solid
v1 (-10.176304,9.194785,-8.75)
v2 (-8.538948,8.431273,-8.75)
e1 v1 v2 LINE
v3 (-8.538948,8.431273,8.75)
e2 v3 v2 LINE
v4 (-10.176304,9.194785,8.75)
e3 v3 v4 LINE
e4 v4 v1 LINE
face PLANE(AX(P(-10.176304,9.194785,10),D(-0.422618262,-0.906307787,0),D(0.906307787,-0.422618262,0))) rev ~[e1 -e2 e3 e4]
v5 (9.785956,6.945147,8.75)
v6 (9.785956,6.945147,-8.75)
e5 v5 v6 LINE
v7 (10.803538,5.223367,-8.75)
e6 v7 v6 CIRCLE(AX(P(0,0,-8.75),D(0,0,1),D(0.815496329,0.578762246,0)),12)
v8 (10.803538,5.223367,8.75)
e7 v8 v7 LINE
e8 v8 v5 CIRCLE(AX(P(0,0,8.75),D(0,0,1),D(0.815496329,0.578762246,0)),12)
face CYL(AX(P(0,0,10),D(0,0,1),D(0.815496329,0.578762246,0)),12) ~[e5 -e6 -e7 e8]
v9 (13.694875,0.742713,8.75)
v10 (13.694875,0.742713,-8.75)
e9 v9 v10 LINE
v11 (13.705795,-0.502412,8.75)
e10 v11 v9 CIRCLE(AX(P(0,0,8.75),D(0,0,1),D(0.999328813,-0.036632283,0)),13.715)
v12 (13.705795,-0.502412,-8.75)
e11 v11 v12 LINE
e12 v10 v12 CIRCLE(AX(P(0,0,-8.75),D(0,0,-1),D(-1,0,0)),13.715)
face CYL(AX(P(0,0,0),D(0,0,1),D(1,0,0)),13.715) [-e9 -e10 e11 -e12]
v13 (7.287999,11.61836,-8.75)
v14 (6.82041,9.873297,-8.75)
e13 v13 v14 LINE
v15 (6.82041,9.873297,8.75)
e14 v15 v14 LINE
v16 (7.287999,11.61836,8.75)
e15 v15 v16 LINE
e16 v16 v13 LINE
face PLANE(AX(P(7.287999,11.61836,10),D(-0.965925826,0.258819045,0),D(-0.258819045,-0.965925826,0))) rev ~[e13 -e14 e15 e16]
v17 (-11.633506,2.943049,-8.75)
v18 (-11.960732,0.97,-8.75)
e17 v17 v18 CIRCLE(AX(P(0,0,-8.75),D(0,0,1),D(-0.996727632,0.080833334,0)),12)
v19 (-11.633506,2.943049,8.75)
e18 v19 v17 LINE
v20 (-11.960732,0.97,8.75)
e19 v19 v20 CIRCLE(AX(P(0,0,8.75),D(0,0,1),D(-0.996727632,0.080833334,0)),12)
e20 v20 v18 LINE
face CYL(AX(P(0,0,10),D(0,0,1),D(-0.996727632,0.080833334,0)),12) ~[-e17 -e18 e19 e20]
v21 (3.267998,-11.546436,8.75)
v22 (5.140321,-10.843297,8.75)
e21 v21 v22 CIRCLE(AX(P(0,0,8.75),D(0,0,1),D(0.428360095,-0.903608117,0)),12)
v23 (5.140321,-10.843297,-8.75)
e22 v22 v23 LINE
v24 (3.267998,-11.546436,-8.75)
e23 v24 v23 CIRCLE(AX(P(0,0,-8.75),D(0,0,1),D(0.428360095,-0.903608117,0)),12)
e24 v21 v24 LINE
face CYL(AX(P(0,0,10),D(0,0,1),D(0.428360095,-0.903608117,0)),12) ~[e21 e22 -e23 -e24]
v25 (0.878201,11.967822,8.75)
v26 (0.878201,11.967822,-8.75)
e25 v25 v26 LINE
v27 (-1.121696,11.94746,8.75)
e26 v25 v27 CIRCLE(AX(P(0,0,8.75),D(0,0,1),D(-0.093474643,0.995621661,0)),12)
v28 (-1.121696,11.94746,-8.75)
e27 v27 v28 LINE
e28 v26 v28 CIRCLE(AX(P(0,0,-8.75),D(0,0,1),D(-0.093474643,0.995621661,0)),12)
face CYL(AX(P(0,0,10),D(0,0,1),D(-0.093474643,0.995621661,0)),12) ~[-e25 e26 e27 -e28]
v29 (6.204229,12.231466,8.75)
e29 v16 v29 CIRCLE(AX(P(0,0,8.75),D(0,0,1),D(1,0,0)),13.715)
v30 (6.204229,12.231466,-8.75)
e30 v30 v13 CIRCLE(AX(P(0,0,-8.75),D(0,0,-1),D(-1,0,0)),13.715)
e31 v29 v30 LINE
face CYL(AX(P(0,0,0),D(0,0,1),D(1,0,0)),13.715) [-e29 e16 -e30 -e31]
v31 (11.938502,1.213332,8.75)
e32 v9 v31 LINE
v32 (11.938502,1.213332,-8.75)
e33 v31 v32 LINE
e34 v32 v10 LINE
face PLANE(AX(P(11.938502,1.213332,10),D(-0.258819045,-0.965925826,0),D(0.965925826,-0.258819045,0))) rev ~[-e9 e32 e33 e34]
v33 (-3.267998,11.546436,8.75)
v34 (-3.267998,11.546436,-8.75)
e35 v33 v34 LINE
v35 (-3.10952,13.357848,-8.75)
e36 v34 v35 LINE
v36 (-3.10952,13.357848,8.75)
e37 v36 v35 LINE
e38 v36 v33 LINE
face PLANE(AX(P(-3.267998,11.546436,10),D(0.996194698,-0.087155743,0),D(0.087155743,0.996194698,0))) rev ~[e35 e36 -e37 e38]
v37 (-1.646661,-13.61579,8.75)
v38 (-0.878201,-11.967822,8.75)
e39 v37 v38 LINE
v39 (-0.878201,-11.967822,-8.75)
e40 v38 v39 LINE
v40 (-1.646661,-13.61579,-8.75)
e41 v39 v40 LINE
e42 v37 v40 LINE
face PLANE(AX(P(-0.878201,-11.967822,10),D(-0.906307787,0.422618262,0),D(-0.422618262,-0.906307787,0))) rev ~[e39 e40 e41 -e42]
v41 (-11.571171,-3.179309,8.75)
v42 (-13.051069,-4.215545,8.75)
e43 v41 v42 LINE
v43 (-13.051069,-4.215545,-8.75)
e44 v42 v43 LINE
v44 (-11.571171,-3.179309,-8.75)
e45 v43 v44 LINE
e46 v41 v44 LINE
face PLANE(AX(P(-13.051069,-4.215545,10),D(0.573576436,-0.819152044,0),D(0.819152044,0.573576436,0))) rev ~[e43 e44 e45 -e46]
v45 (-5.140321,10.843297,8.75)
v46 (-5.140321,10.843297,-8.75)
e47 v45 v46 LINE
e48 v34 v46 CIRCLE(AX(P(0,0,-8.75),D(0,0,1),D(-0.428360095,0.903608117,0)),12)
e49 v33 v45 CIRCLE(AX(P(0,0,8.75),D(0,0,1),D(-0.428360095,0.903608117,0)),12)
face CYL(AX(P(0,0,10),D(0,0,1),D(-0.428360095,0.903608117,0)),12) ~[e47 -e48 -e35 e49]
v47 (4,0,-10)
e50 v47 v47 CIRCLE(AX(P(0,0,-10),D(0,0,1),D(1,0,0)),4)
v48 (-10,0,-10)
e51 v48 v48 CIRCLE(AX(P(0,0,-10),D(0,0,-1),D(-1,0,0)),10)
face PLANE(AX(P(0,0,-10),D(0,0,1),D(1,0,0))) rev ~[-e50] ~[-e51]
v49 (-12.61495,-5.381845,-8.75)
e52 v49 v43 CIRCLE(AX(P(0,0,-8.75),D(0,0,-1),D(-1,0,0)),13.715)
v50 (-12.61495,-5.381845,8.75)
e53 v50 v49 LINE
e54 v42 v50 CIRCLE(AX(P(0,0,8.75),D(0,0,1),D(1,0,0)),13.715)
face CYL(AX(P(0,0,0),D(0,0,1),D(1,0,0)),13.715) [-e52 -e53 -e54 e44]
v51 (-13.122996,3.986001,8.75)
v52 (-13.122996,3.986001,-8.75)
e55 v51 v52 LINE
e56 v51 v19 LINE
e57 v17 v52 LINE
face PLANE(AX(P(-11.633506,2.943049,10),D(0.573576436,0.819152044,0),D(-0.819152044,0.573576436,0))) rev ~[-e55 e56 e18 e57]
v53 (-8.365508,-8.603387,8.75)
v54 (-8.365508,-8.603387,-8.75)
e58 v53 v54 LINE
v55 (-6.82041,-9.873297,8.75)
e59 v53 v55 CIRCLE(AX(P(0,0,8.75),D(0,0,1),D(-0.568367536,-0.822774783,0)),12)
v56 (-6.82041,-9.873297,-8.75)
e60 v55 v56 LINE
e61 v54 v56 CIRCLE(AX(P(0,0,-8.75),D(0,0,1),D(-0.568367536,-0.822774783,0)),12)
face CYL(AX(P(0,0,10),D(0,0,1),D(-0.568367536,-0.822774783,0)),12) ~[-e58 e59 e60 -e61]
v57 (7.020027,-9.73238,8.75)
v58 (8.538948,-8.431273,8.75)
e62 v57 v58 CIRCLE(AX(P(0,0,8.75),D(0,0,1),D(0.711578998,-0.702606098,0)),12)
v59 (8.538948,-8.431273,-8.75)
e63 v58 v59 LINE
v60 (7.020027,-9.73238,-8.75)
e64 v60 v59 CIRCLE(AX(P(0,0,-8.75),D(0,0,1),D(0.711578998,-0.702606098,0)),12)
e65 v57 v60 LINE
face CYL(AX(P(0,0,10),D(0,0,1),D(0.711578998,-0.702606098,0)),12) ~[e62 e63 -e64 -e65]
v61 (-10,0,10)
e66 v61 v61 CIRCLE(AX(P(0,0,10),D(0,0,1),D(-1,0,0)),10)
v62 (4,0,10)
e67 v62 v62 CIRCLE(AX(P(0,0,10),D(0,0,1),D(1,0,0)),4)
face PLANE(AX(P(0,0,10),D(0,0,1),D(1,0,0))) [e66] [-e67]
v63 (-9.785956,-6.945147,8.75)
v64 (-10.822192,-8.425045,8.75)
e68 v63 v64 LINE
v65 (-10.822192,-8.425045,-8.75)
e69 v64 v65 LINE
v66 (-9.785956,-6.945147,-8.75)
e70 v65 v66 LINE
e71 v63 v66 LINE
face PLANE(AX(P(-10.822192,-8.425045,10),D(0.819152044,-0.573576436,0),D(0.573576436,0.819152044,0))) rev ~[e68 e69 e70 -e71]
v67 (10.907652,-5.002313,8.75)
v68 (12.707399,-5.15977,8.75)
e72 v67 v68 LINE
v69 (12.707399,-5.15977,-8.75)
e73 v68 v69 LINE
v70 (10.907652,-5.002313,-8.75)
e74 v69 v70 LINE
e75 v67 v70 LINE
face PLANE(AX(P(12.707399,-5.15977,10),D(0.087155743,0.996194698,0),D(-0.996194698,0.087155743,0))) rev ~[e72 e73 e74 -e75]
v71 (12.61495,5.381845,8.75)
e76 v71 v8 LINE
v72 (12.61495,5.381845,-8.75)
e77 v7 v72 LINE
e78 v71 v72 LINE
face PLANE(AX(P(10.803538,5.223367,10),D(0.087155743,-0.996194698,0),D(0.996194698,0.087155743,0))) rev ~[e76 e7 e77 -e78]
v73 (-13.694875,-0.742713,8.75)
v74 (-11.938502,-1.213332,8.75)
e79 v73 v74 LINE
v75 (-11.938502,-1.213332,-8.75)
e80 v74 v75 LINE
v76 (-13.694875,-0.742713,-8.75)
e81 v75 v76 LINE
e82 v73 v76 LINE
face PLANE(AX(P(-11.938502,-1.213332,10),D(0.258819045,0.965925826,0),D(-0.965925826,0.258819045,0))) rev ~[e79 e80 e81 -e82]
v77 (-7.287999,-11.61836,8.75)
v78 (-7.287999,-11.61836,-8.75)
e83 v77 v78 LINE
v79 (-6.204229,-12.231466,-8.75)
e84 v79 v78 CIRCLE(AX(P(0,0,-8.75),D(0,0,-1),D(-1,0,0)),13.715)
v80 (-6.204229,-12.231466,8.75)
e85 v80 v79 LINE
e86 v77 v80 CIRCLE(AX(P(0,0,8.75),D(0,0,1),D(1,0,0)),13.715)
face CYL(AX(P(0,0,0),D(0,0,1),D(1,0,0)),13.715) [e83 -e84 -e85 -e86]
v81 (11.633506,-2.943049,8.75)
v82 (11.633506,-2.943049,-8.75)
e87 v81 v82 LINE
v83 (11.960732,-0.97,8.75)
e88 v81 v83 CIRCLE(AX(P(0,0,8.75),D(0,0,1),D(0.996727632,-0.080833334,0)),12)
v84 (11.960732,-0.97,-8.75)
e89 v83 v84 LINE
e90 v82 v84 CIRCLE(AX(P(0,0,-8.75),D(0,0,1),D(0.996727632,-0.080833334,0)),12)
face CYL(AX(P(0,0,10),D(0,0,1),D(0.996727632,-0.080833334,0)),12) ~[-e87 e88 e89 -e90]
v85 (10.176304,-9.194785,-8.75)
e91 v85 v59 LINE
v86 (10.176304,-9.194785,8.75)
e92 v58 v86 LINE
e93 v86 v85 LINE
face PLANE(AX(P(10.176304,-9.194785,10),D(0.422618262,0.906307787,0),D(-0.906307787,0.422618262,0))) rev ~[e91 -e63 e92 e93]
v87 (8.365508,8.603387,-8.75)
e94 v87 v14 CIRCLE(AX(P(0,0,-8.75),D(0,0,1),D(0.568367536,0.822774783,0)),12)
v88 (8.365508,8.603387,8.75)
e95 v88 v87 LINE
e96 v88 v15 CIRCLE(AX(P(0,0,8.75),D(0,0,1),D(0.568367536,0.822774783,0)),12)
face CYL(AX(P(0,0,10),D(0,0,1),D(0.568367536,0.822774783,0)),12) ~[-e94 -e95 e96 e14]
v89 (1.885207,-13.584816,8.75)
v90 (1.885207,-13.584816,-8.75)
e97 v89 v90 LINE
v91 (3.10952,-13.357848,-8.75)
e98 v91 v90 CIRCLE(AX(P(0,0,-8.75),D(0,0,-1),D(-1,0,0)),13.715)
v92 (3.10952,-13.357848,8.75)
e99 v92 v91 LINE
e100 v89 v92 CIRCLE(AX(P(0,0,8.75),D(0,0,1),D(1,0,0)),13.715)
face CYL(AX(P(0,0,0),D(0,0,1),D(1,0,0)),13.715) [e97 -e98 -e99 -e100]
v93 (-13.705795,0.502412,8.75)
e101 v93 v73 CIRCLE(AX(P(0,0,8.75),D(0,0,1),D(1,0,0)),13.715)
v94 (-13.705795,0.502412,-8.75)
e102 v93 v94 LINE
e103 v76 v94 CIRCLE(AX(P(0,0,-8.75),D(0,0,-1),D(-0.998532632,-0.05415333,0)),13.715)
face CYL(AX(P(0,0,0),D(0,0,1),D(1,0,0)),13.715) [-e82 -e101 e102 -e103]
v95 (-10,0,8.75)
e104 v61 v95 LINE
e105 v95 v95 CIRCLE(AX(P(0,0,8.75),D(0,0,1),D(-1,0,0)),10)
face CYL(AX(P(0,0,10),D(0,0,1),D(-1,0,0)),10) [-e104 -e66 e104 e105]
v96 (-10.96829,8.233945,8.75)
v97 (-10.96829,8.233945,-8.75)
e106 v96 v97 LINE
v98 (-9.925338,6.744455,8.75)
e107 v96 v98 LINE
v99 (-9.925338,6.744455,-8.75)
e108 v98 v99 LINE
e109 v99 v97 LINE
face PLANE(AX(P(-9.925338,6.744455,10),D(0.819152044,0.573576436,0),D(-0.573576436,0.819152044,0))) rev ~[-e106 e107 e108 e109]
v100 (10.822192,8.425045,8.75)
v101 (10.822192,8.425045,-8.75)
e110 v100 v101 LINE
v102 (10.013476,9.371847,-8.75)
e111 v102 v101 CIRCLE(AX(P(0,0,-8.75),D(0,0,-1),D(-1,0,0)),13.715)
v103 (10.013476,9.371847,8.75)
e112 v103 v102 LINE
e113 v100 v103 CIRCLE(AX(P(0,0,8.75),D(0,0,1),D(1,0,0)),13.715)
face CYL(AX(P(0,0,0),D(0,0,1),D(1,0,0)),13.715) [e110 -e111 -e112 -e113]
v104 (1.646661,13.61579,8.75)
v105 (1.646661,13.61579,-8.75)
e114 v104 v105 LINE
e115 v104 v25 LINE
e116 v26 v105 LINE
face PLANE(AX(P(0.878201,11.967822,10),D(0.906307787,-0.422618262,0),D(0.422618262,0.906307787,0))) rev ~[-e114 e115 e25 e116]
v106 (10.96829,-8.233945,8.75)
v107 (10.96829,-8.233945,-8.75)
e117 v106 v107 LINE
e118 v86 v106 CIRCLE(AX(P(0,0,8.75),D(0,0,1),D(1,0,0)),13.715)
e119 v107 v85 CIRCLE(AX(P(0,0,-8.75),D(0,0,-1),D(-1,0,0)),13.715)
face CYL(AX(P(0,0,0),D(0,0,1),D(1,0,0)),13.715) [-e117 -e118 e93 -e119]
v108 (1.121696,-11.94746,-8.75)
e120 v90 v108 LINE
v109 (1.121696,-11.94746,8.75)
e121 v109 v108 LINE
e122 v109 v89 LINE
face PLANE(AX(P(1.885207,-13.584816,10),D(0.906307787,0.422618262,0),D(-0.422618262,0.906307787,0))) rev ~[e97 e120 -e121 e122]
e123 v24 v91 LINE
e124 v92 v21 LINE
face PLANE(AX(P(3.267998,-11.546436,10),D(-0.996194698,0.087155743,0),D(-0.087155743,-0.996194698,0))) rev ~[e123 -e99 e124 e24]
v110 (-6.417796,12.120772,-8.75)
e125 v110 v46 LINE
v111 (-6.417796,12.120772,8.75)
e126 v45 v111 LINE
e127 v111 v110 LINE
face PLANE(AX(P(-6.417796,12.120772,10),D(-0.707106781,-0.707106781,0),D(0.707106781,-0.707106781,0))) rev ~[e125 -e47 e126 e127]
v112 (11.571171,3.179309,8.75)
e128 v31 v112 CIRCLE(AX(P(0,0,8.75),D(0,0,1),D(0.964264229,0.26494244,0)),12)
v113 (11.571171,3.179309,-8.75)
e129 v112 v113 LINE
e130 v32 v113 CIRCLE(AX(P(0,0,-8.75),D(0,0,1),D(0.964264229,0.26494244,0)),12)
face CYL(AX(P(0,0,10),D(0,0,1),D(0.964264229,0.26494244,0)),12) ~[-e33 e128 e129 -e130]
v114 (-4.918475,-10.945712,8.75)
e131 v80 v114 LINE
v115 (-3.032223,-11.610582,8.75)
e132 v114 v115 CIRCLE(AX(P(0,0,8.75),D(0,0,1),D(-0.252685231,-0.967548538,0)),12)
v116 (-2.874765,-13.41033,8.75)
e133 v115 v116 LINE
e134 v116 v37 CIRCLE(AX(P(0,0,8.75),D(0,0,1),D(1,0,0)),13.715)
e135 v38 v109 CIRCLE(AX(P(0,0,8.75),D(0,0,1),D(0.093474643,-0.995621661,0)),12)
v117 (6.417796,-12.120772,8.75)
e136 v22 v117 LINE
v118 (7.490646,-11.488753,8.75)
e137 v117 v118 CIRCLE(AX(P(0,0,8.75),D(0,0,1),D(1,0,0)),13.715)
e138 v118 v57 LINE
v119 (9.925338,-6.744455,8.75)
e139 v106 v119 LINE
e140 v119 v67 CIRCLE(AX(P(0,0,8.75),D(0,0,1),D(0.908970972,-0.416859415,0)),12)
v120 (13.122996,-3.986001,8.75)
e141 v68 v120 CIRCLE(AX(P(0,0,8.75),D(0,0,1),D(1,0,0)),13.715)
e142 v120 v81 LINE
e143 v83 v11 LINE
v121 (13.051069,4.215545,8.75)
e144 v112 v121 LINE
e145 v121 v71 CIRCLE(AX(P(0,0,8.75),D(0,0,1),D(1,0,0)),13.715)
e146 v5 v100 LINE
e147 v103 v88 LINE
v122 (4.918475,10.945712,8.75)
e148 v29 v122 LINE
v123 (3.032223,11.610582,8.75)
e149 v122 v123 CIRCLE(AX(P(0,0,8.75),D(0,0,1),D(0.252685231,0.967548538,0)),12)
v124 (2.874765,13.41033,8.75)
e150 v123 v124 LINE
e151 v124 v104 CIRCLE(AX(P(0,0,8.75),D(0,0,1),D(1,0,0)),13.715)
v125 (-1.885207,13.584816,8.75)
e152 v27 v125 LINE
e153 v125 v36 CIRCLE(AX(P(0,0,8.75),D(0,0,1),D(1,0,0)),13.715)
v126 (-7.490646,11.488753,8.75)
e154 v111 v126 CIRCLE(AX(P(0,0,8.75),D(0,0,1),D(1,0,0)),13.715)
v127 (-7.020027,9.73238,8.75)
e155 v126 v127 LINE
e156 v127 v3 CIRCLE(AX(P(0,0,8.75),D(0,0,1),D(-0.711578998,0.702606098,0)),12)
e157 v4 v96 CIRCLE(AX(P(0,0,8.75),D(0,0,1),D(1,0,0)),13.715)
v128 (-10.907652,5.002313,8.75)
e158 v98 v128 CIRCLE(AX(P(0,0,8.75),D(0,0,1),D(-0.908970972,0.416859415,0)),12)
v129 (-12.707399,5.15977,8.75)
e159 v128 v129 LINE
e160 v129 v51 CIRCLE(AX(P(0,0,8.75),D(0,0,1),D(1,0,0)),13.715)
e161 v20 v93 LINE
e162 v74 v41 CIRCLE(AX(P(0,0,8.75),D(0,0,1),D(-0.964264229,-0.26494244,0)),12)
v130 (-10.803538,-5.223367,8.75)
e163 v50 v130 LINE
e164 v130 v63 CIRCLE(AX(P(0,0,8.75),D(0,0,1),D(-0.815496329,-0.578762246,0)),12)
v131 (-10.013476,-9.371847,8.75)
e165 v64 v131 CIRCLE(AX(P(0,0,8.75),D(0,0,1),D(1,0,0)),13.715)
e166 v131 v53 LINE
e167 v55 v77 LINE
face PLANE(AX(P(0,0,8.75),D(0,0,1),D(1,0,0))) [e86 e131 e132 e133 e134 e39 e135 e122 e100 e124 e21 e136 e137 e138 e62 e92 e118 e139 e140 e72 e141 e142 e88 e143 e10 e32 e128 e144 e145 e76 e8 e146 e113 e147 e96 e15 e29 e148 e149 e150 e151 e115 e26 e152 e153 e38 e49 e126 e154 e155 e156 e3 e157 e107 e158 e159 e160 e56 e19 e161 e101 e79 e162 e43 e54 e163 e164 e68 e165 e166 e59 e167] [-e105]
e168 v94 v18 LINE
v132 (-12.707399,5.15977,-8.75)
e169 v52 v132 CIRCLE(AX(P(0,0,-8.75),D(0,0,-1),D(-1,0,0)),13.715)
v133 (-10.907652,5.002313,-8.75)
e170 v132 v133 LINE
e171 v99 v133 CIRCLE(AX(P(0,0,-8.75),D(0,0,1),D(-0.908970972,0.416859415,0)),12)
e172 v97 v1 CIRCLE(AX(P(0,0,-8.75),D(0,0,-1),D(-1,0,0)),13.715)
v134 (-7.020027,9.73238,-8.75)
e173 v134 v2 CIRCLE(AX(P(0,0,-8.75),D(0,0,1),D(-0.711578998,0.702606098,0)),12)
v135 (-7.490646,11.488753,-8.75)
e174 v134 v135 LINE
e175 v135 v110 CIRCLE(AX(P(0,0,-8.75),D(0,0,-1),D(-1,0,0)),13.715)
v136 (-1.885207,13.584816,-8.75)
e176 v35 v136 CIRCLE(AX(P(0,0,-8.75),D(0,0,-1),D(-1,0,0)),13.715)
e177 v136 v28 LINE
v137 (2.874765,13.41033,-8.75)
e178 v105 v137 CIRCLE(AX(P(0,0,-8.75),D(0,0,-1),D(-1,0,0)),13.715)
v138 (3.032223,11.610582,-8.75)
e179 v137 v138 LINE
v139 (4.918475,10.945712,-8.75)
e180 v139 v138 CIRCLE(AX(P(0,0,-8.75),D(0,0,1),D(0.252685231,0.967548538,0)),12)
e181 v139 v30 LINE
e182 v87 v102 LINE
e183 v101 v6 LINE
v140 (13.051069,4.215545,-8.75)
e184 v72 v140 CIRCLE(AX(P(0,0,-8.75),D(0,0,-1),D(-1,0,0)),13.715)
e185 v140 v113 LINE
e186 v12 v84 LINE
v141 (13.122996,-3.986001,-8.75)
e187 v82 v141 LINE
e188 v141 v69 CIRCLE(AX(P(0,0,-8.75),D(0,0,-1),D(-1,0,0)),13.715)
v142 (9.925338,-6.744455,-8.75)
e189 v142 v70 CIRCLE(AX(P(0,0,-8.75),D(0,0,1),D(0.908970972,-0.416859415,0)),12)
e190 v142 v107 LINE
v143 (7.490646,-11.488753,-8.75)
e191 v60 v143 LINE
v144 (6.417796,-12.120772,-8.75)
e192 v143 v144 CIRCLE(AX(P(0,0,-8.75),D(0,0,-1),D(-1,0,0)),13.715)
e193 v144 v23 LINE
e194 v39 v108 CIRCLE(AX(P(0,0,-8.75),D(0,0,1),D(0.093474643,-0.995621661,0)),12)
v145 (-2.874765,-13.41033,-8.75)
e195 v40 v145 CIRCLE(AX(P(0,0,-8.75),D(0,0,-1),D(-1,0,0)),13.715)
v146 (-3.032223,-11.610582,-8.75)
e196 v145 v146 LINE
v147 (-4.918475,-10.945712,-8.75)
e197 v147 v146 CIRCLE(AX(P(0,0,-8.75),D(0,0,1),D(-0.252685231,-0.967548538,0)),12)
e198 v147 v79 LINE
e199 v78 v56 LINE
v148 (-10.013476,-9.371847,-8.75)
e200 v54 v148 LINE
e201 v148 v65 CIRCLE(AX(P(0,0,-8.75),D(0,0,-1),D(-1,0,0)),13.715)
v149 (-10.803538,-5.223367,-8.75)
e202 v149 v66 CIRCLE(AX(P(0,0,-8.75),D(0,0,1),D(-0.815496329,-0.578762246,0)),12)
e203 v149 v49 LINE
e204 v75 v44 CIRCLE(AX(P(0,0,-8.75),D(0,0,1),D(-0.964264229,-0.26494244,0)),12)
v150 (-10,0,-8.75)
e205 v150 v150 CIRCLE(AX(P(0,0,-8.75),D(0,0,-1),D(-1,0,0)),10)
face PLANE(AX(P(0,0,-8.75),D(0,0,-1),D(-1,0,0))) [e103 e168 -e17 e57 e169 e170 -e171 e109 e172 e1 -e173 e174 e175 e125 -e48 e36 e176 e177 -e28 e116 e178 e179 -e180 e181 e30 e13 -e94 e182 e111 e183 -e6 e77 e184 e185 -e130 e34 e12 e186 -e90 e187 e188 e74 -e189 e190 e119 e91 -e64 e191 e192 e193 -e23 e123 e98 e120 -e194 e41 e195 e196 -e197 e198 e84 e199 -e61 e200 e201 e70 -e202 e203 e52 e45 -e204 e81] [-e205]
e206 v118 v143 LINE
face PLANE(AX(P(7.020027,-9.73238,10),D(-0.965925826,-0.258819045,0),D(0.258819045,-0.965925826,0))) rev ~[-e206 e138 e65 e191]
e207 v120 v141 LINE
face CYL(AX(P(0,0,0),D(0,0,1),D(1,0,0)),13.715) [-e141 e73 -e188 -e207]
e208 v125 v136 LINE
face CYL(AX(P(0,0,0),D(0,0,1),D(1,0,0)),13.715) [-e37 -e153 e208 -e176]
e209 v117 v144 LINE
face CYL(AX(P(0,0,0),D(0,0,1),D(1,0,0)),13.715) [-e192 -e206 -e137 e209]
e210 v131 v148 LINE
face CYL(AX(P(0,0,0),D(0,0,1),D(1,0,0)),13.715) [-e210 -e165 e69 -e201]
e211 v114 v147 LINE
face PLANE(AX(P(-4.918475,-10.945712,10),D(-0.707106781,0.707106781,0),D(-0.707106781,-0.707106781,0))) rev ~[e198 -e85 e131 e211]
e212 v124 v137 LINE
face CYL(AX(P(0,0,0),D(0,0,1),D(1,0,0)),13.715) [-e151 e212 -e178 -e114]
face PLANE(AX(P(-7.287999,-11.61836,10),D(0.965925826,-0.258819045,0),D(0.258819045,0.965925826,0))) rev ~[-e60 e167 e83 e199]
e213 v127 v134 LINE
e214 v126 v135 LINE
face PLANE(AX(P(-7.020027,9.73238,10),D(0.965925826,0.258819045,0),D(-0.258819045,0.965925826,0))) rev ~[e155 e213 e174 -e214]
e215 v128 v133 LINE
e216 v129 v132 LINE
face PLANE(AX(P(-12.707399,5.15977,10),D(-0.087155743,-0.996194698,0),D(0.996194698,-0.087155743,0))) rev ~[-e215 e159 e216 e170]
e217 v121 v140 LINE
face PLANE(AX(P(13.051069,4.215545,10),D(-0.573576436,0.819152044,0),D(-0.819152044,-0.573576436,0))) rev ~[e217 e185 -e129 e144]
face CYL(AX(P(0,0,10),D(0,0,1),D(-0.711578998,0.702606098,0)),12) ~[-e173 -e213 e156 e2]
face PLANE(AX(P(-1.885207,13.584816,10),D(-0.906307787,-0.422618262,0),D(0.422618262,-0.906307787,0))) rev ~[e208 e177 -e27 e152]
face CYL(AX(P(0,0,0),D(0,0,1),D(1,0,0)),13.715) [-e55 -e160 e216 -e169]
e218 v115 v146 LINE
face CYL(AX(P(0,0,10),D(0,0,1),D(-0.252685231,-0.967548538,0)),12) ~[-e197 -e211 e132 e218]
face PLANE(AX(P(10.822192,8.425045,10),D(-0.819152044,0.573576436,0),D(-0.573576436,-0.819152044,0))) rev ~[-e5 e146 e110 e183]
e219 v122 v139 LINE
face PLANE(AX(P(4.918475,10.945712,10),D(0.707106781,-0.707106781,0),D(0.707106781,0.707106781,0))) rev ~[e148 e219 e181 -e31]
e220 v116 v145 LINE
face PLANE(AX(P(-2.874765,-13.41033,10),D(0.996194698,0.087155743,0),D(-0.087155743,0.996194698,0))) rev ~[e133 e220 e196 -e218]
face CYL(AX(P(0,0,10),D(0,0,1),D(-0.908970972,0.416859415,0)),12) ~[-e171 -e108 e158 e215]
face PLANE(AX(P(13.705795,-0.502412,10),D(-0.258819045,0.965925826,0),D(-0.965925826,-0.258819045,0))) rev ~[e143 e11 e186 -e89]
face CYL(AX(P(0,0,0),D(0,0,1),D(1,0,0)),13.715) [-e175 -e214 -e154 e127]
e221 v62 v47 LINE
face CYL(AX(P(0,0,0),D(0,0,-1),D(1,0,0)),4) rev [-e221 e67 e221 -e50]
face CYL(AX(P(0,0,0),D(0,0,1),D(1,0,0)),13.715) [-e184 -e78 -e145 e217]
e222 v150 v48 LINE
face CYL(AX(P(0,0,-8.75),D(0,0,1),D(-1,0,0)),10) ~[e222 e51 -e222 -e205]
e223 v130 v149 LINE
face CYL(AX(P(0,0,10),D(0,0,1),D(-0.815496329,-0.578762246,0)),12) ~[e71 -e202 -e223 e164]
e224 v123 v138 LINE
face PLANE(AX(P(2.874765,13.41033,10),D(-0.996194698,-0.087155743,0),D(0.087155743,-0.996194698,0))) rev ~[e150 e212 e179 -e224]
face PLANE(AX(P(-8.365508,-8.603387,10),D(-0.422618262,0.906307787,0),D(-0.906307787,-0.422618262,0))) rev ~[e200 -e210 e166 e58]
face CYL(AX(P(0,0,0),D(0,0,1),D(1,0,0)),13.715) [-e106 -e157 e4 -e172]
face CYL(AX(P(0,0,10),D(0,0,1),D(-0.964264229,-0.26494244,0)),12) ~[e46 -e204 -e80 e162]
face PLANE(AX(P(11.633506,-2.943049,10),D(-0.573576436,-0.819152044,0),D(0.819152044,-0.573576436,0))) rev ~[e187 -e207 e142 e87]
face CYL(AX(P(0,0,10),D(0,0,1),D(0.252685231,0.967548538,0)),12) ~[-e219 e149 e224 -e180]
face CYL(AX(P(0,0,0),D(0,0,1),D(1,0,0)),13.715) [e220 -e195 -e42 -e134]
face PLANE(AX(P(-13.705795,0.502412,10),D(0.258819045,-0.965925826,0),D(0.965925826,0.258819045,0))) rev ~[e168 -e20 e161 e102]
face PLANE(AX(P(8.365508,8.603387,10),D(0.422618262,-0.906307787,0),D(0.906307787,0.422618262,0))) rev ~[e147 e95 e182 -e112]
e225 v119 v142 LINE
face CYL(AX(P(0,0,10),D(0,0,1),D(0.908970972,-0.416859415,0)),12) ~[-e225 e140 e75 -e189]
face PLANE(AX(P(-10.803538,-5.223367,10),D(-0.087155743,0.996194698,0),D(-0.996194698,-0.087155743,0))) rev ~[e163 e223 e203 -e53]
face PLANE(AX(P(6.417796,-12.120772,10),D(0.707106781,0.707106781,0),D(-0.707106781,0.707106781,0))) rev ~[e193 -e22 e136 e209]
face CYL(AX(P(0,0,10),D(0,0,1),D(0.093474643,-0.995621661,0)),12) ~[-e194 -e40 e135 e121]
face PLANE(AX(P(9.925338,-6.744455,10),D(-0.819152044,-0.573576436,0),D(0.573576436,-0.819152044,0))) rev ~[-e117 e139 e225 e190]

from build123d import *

# Parameters (mm, degrees)
ESQUISSE1_R                  = 13.715
ESQUISSE1_R_2                = 4
BASE_EXTRUSION_DEPTH         = 10
ENL_V_MAT_EXTRU_1_DEPTH      = 28.860410083
R_P_TITION_CIRCULAIRE1_COUNT = 18
ENL_V_START                  = -1.25
ESQUISSE3_R                  = 13.715
ESQUISSE3_R_2                = 10
ENL_V_MAT_EXTRU_2_DEPTH      = 1.25
ESQUISSE4_R                  = 13.715
ESQUISSE4_R_2                = 10
ENL_V_MAT_EXTRU_3_DEPTH      = 1.25


with BuildPart() as part:
    # Esquisse1 → Base-Extrusion (new, symmetric)
    with BuildSketch(Plane.XY):
        Circle(ESQUISSE1_R)
        Circle(ESQUISSE1_R_2, mode=Mode.SUBTRACT)
    extrude(amount=BASE_EXTRUSION_DEPTH, both=True)

    # Esquisse2 → Enlèv. mat.-Extru.1 (cut, through all)
    with BuildSketch(Plane.XY.offset(10)):
        with BuildLine():
            Line((0.878200621, 11.96782201), (1.646660653, 13.615789867))
            ThreePointArc((1.646660653, 13.615789867), (-0.120274569, 13.714472612), (-1.885207275, 13.584815734))
            Line((-1.885207275, 13.584815734), (-1.121695723, 11.947459927))
            ThreePointArc((-1.121695723, 11.947459927), (-0.1221725, 11.999378062), (0.878200621, 11.96782201))
        make_face()
    enl_v_mat_extru_1 = extrude(amount=-ENL_V_MAT_EXTRU_1_DEPTH, mode=Mode.SUBTRACT)

    # Répétition circulaire1: Enlèv. mat.-Extru.1 ×18 about axis
    r_p_tition_circulaire1_axis = Axis((0, 0, 0), (0, 0, 1))
    for i in range(1, R_P_TITION_CIRCULAIRE1_COUNT):
        add(enl_v_mat_extru_1.rotate(r_p_tition_circulaire1_axis, i * 360 / R_P_TITION_CIRCULAIRE1_COUNT), mode=Mode.SUBTRACT)

    # Esquisse3 → Enlèv. mat.-Extru.2 (cut)
    with BuildSketch(Plane(origin=(0, 0, -10), x_dir=(-1, 0, 0), z_dir=(0, 0, -1)).offset(ENL_V_START)):
        Circle(ESQUISSE3_R)
        Circle(ESQUISSE3_R_2, mode=Mode.SUBTRACT)
    extrude(amount=ENL_V_MAT_EXTRU_2_DEPTH, mode=Mode.SUBTRACT)

    # Esquisse4 → Enlèv. mat.-Extru.3 (cut)
    with BuildSketch(Plane.XY.offset(10)):
        Circle(ESQUISSE4_R)
        with Locations(Location((0, 0, 0), (0, 0, 180))):
            Circle(ESQUISSE4_R_2, mode=Mode.SUBTRACT)
    extrude(amount=-ENL_V_MAT_EXTRU_3_DEPTH, mode=Mode.SUBTRACT)


solid = part.part
